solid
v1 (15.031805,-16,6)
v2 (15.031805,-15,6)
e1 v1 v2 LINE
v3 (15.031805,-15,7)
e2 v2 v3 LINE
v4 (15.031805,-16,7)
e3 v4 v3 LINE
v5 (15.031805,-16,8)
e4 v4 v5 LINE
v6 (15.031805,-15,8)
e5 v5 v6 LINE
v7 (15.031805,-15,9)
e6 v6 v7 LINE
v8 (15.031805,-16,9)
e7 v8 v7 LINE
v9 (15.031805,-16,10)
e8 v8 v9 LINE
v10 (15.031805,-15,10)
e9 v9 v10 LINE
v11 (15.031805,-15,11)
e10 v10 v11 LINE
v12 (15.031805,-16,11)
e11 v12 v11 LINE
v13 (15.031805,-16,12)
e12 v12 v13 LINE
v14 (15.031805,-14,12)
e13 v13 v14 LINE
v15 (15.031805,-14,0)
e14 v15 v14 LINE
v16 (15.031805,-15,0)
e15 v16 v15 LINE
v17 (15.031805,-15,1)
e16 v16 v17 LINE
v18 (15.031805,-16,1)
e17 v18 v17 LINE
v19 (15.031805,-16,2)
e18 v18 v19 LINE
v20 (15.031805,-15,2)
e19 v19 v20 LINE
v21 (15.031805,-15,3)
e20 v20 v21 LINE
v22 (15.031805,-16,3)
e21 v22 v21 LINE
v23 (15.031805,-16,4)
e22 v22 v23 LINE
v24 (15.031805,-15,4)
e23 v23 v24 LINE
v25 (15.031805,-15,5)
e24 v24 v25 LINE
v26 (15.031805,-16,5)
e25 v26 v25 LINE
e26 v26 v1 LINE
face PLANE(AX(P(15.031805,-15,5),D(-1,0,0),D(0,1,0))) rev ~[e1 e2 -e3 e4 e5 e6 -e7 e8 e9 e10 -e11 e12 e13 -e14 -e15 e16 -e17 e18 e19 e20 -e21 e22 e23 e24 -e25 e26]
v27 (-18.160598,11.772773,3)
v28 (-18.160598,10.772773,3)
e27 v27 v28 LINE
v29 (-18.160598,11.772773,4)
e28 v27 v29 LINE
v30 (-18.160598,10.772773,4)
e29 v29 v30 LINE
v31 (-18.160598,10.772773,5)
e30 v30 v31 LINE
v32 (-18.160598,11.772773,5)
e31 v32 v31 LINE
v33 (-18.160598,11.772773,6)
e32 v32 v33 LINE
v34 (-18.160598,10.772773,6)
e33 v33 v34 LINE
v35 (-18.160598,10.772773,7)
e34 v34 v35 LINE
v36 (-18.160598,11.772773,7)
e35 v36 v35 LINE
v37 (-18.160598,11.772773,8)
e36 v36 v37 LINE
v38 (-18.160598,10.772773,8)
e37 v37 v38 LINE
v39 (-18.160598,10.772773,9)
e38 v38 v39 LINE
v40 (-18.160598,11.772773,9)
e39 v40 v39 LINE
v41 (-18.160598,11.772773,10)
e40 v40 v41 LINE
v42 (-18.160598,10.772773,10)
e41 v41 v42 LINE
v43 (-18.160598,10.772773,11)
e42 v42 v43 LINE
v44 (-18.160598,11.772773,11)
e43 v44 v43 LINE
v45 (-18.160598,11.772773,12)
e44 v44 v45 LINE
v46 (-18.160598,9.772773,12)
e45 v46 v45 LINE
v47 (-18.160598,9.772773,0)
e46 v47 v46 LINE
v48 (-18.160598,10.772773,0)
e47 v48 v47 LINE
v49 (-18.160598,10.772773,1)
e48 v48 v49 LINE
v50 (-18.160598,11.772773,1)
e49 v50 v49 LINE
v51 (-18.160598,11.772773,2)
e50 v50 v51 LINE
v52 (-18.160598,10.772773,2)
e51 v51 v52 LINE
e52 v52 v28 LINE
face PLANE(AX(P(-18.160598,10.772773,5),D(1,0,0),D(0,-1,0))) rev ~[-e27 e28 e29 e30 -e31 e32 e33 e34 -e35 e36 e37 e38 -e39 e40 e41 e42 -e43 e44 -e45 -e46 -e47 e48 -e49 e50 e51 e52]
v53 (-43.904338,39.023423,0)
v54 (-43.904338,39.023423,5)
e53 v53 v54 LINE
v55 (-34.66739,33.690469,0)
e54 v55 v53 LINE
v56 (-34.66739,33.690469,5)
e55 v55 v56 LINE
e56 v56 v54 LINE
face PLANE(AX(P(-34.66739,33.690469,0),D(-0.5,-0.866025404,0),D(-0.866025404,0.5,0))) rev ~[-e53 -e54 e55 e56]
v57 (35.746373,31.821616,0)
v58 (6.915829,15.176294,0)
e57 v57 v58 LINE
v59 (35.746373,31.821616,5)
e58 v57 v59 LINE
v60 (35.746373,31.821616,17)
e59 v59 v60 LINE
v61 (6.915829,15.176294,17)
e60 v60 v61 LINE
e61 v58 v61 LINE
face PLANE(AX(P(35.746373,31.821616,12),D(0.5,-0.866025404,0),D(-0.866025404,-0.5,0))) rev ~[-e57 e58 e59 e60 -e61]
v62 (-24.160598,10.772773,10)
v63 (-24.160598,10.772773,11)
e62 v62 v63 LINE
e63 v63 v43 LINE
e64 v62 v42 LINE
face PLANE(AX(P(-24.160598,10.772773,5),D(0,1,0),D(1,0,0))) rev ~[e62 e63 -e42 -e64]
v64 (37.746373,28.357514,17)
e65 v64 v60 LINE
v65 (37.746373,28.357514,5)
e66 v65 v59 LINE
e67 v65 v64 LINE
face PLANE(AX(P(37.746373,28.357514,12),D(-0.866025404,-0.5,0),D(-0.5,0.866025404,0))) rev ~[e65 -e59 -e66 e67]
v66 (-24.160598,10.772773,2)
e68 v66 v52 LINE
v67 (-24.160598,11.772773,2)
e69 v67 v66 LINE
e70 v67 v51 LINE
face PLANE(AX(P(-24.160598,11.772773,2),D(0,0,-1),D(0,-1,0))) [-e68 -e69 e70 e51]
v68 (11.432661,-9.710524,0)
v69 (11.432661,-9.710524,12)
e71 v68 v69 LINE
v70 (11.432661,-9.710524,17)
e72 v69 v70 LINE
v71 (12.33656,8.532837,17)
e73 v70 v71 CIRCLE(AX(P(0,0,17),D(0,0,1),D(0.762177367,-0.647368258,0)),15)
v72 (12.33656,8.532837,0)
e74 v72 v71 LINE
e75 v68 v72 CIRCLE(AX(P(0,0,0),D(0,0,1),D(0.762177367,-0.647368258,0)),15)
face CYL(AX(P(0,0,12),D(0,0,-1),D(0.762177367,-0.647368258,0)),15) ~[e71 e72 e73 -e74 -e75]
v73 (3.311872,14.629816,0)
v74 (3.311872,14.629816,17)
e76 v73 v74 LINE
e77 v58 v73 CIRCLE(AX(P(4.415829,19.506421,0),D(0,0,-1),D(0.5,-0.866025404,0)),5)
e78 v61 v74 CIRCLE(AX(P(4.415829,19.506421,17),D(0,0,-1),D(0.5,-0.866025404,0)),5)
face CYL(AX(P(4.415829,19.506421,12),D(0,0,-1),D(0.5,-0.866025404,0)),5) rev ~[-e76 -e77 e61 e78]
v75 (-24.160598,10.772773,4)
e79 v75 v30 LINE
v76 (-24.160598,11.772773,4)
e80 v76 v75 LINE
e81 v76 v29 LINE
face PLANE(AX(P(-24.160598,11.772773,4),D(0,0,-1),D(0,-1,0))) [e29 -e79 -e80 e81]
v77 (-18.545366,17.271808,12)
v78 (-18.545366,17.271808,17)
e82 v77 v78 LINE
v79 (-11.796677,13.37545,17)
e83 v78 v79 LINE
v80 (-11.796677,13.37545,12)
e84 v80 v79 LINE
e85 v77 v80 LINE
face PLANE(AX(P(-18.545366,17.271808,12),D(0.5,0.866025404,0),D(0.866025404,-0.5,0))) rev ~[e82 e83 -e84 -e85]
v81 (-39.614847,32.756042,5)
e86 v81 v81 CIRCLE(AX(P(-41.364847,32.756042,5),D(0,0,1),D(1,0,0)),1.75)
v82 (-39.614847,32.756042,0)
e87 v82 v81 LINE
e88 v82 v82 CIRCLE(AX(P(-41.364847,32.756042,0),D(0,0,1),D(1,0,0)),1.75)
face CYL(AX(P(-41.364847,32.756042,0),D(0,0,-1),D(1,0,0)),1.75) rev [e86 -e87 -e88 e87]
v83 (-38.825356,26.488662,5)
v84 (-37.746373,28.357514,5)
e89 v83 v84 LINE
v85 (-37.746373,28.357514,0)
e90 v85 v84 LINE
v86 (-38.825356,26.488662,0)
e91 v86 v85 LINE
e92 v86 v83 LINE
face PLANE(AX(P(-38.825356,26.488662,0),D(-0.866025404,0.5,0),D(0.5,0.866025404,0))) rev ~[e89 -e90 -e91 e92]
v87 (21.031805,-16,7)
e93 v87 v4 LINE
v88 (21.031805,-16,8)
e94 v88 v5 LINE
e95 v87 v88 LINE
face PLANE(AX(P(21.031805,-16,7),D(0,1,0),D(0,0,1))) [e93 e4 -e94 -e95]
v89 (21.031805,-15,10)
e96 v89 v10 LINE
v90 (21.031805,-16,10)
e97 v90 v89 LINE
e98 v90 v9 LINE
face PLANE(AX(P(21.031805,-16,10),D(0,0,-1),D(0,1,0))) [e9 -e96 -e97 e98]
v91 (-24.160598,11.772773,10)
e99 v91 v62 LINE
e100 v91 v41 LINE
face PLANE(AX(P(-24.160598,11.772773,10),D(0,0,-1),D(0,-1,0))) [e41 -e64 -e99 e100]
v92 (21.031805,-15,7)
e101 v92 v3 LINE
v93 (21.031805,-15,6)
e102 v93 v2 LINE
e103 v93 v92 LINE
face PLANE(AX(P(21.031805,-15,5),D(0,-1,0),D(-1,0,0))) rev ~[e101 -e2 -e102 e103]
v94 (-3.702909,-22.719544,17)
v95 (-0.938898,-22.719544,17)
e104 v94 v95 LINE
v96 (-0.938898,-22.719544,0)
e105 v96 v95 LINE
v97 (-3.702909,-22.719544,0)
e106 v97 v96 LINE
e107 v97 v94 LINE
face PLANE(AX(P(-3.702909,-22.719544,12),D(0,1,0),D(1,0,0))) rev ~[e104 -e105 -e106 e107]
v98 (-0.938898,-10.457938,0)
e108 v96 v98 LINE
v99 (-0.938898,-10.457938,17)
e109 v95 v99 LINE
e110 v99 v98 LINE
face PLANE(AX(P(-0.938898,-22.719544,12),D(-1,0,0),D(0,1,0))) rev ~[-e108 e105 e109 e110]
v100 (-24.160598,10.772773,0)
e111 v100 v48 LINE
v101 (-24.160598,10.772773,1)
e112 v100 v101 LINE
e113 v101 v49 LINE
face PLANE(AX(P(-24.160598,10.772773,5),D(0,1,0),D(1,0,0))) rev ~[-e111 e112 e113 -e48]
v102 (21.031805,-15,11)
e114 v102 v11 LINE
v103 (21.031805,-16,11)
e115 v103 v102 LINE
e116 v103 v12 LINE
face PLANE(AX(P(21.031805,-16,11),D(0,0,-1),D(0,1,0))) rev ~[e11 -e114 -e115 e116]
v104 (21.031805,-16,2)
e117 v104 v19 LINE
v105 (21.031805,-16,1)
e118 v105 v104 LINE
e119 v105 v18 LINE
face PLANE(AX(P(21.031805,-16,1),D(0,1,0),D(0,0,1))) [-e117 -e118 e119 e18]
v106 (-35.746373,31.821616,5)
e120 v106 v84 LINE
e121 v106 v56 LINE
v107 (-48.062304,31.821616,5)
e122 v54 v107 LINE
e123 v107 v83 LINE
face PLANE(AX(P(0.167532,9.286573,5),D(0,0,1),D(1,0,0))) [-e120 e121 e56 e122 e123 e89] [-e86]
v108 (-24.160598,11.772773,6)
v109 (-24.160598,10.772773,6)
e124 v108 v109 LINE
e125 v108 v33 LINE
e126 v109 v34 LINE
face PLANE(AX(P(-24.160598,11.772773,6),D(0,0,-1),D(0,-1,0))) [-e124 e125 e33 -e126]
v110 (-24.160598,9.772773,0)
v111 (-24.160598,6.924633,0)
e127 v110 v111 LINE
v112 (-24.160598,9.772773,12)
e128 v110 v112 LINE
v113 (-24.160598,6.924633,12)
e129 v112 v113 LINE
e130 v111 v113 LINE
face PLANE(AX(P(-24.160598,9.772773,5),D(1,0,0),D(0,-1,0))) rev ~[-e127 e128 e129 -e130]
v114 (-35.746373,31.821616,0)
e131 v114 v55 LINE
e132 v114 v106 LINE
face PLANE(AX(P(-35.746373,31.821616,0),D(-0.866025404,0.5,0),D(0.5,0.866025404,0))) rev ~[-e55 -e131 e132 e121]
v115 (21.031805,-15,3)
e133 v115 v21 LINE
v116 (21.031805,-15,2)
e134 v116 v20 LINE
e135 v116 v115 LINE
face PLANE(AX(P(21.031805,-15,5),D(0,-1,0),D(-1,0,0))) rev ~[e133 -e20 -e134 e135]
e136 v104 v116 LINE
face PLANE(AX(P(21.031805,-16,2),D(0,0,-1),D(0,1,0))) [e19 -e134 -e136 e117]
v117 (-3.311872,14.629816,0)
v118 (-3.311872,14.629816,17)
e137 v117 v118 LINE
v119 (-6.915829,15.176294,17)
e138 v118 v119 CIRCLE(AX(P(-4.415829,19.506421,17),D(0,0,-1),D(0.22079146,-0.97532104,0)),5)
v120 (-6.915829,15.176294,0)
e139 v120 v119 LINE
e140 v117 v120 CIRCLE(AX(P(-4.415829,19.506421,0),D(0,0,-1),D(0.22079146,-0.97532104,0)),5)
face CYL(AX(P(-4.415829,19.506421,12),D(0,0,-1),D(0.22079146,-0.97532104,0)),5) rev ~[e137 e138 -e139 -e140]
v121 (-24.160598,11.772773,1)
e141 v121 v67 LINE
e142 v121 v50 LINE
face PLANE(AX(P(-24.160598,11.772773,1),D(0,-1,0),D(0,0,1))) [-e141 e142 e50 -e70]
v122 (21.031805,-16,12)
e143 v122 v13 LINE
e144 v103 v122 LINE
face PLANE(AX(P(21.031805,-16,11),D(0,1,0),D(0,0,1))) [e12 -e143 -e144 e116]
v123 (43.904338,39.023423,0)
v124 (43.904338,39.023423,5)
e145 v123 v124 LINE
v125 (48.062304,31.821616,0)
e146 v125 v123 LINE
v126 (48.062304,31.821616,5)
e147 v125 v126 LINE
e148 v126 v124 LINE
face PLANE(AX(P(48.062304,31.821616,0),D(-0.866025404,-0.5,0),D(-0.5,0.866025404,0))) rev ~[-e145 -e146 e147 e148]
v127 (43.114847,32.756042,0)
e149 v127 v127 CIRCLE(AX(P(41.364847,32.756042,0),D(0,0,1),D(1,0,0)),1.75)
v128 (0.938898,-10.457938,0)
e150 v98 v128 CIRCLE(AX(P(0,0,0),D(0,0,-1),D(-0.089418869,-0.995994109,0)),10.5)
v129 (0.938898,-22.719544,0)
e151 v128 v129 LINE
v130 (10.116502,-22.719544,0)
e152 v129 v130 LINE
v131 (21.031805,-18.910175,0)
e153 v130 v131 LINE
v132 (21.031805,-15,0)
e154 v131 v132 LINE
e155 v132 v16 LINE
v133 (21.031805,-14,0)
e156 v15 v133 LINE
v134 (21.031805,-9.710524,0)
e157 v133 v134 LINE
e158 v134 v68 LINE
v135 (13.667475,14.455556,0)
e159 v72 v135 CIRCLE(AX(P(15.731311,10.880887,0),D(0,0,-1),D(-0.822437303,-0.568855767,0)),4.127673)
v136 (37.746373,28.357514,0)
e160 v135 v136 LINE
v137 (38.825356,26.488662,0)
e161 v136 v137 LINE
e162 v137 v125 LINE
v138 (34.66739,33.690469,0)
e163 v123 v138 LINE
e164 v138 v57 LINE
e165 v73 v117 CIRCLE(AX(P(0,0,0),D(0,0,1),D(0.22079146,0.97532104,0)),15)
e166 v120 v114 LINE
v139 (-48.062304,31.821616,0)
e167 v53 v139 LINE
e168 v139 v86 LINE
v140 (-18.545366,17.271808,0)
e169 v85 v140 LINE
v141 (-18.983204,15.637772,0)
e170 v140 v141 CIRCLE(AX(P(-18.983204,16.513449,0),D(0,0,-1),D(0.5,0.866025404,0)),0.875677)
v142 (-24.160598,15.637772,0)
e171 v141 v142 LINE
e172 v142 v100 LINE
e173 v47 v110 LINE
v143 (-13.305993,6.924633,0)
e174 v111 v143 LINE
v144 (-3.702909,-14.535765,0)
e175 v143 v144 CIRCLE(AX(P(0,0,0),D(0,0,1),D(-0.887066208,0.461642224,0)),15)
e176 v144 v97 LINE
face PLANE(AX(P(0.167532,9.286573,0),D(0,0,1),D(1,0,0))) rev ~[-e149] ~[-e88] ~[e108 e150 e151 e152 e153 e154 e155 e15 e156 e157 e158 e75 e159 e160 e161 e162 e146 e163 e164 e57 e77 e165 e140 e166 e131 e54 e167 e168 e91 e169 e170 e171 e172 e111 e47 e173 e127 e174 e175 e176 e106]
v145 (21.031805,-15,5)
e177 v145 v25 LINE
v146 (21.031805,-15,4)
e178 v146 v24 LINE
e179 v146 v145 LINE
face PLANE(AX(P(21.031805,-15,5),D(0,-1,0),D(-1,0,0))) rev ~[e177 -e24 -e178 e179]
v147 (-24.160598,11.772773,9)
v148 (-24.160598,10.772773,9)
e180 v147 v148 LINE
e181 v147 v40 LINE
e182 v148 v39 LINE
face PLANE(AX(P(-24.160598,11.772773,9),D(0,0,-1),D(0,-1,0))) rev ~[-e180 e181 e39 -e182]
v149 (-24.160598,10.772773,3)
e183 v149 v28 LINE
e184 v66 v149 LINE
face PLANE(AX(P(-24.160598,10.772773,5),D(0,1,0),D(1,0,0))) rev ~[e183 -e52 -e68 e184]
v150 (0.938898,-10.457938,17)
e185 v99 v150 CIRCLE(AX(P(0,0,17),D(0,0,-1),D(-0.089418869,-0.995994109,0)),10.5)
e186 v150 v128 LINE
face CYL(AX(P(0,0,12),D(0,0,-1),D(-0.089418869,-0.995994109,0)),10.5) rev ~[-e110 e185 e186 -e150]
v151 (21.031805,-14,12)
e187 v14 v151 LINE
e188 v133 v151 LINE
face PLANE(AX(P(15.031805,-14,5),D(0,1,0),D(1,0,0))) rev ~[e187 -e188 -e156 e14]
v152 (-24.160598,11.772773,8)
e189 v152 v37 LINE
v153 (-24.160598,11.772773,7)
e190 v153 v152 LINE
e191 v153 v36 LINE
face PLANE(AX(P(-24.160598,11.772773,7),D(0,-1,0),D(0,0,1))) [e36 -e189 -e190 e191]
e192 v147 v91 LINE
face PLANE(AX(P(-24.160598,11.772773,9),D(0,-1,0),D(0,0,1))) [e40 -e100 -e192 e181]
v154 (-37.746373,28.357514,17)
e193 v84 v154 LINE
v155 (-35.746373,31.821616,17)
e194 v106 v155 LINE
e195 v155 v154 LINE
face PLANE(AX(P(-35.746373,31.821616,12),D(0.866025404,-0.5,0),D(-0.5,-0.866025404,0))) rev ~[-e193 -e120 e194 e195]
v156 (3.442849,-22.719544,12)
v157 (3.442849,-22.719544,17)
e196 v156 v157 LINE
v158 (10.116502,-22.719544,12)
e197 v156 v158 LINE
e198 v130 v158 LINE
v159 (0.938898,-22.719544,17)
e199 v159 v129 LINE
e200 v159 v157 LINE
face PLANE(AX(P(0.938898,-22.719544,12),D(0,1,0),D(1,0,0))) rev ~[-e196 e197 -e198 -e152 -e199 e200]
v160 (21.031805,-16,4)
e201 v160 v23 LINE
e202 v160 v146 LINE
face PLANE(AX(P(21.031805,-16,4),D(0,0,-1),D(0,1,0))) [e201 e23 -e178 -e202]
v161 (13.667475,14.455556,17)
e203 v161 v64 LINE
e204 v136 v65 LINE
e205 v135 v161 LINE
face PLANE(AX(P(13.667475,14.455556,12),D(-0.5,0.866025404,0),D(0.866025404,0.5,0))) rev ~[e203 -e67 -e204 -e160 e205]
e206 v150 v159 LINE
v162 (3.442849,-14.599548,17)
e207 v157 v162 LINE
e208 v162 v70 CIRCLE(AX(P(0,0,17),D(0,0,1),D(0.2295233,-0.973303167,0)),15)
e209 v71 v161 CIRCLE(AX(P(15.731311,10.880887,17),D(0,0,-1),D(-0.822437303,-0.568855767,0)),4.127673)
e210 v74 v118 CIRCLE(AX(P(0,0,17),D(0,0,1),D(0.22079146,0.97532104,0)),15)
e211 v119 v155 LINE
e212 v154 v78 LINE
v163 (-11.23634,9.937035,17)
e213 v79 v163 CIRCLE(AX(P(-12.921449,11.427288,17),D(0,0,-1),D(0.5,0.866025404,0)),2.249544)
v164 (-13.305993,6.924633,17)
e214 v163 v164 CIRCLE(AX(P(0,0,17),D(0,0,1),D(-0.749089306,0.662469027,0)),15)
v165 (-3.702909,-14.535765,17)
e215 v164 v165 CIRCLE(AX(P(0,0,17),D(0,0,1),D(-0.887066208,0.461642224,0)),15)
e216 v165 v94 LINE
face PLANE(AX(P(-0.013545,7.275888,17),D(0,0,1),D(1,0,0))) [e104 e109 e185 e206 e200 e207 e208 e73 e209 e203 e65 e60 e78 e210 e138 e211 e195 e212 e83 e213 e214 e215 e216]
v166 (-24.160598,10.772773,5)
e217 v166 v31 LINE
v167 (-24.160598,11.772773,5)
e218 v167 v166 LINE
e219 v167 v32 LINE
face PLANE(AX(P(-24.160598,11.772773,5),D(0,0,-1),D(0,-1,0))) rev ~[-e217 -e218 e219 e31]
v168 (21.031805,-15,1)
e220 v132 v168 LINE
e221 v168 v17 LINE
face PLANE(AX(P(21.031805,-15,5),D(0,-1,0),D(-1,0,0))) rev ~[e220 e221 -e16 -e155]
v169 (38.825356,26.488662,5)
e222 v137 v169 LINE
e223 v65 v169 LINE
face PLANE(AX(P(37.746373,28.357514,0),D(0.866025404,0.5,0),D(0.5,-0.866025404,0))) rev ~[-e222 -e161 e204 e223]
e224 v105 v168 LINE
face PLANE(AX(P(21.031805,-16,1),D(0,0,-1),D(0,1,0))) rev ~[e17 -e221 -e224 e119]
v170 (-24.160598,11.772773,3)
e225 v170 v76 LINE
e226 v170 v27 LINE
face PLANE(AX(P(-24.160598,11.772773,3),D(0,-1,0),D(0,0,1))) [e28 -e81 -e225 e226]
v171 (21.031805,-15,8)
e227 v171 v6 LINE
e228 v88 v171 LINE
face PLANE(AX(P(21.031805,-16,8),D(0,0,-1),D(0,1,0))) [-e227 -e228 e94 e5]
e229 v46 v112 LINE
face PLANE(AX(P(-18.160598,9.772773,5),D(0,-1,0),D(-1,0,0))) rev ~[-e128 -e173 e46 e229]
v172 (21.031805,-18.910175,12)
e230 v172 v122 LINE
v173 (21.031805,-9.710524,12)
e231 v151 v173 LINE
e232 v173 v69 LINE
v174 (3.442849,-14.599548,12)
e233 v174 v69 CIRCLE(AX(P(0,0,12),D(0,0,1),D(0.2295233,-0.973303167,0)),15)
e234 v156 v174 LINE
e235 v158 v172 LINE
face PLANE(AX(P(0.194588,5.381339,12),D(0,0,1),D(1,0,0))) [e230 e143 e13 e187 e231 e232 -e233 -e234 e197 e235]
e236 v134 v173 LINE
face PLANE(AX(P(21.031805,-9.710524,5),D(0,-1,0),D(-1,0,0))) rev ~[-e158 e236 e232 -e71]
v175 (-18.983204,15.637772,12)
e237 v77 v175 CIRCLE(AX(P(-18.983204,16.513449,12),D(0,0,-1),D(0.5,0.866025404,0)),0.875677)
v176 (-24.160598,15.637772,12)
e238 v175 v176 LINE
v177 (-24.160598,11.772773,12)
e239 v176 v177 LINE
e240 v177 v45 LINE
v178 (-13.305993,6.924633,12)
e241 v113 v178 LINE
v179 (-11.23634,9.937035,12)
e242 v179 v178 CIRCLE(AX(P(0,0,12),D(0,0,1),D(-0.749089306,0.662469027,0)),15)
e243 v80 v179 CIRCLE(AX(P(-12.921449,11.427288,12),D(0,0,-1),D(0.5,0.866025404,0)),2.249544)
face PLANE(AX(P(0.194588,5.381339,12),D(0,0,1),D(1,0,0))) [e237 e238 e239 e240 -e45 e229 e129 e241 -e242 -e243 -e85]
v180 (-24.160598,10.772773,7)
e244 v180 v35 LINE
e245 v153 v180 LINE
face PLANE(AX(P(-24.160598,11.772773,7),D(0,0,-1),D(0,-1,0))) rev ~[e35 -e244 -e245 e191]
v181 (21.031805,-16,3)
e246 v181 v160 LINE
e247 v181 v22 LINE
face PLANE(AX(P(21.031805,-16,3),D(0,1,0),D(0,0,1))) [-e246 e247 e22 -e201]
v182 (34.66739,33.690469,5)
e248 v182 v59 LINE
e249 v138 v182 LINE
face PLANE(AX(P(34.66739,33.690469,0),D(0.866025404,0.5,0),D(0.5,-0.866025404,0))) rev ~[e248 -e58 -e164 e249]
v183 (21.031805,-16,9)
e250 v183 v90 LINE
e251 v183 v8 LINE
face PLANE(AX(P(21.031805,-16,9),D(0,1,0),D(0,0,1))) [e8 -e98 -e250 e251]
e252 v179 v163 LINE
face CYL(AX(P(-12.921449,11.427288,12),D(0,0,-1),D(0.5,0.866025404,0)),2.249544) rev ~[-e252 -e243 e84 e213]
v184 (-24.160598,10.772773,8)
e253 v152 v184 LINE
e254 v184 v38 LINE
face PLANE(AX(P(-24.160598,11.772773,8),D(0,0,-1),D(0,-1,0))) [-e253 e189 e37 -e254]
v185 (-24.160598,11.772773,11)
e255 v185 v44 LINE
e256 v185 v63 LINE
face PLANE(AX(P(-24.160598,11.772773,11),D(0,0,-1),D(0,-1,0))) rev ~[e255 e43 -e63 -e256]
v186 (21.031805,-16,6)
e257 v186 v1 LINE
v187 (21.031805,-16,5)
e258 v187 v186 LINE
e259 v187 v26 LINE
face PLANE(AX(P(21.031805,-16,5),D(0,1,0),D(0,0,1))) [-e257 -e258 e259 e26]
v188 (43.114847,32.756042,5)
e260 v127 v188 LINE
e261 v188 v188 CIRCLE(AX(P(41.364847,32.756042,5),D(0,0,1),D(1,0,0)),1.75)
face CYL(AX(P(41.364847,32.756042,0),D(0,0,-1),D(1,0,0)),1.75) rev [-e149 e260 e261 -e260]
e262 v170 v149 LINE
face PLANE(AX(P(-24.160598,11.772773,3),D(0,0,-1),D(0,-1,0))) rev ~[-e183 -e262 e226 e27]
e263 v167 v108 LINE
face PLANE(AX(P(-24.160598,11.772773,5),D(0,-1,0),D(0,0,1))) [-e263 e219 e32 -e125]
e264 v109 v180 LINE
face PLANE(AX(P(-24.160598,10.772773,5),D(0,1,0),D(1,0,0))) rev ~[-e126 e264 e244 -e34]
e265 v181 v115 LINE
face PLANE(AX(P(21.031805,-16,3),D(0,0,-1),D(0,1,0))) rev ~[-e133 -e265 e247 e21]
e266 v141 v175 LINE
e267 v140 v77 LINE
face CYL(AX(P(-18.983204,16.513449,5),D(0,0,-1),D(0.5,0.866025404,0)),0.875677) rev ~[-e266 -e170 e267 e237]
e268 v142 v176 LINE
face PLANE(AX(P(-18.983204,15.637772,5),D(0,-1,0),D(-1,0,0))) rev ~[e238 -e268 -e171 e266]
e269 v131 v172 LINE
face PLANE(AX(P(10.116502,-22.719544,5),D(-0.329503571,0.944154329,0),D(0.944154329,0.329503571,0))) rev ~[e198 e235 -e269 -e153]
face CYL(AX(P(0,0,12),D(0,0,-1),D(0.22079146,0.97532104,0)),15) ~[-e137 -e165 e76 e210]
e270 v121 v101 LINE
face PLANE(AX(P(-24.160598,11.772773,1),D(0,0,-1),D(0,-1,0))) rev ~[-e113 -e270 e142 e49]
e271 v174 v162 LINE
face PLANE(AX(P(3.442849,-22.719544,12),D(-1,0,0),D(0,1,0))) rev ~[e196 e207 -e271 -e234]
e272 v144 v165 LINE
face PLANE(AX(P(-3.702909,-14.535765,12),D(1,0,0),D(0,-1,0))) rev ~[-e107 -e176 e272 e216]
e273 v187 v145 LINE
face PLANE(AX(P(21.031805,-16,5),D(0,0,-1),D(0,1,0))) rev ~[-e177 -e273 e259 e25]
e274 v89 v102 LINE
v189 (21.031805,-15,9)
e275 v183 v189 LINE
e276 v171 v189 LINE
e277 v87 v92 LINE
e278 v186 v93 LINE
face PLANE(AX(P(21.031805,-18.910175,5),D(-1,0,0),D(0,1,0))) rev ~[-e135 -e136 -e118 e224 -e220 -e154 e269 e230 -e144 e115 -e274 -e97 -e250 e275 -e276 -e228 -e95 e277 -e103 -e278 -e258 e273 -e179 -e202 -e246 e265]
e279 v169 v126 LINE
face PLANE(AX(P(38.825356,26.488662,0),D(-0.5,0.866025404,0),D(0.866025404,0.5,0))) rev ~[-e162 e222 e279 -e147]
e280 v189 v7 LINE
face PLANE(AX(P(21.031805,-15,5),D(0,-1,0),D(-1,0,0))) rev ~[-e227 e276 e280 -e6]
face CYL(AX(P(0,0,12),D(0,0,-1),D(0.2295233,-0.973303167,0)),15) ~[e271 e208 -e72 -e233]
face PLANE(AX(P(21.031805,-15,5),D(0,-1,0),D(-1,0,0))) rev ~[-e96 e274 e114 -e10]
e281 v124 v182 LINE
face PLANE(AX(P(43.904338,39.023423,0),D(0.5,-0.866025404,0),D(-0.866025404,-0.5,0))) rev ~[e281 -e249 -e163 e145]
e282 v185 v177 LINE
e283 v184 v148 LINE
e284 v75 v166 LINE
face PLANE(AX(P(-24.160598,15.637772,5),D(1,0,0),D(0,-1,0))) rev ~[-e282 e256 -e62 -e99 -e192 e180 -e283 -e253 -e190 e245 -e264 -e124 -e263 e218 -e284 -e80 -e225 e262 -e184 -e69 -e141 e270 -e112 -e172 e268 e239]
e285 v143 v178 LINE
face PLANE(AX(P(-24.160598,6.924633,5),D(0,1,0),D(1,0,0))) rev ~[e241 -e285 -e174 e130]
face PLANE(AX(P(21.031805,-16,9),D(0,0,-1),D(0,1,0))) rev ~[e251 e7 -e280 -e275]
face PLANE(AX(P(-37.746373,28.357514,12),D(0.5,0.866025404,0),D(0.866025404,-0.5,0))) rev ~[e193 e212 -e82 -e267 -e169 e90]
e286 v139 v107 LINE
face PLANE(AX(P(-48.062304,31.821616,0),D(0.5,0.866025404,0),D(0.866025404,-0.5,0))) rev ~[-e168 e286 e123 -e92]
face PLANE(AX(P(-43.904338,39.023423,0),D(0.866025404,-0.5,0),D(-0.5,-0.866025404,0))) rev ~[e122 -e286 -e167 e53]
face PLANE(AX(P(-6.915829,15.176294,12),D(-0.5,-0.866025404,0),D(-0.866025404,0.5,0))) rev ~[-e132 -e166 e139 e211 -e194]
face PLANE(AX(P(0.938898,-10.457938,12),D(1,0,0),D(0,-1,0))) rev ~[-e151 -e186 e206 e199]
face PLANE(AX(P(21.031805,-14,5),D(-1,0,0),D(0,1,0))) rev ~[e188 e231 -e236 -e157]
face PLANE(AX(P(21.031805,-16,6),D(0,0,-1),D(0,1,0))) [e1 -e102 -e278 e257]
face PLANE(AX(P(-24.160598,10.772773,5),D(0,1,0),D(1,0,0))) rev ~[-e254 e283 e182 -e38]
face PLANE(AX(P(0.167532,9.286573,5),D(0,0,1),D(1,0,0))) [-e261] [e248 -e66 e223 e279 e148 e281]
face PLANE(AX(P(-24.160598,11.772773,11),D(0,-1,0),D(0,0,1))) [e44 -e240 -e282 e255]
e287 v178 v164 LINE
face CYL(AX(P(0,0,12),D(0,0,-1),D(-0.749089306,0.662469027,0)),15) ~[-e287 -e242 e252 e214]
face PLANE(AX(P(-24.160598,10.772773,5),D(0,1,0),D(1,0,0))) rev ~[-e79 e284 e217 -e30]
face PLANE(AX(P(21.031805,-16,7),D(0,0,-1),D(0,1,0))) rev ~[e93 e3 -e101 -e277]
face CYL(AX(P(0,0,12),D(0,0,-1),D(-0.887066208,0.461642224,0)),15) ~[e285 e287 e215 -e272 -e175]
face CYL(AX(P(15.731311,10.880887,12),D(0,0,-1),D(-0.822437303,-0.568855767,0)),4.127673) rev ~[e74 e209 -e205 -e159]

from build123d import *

# Parameters (mm, degrees)
F0_R     = 1.75
F1_DEPTH = 5
F3_DEPTH = 7
F5_DEPTH = 5
F6_W     = 1
F6_H     = 1
F7_DEPTH = 6
F8_W     = 1
F8_H     = 1
F9_DEPTH = 6


with BuildPart() as f1:
    # F0 (on Top) → F1 (new body)
    with BuildSketch(Plane.XY):
        with BuildLine():
            ThreePointArc((-0.9388981295, -10.4579381478), (0, 10.5), (0.9388981295, -10.4579381478))
            Line((0.9388981295, -10.4579381478), (0.9388981295, -14.9705868389))
            Line((0.9388981295, -14.9705868389), (0.9388981295, -22.7195436882))
            Line((0.9388981295, -22.7195436882), (4.4024475525, -22.7195436882))
            Line((4.4024475525, -22.7195436882), (10.116501772, -22.7195436882))
            Line((10.116501772, -22.7195436882), (21.0318053748, -18.9101754503))
            Line((21.0318053748, -18.9101754503), (21.0318053748, -15))
            Line((21.0318053748, -15), (15.0318053748, -15))
            Line((15.0318053748, -15), (15.0318053748, -14))
            Line((15.0318053748, -14), (21.0318053748, -14))
            Line((21.0318053748, -14), (21.0318053748, -9.7105238683))
            Line((21.0318053748, -9.7105238683), (11.4326605041, -9.7105238683))
            ThreePointArc((11.4326605041, -9.7105238683), (14.9816222336, -0.7422905424), (12.3365595381, 8.5328365016))
            ThreePointArc((12.3365595381, 8.5328365016), (11.704066925, 11.7858634787), (13.6674751693, 14.4555562485))
            Line((13.6674751693, 14.4555562485), (37.7463729757, 28.3575143788))
            Line((37.7463729757, 28.3575143788), (38.825355636, 26.4886615908))
            Line((38.825355636, 26.4886615908), (48.0623036168, 31.821615994))
            Line((48.0623036168, 31.821615994), (43.9043382963, 39.0234231853))
            Line((43.9043382963, 39.0234231853), (34.6673903154, 33.6904687821))
            Line((34.6673903154, 33.6904687821), (35.7463729757, 31.821615994))
            Line((35.7463729757, 31.821615994), (6.9158291977, 15.1762937829))
            ThreePointArc((6.9158291977, 15.1762937829), (5.1654246928, 14.5629294653), (3.3118718983, 14.6298156013))
            ThreePointArc((3.3118718983, 14.6298156013), (0, 15), (-3.3118718983, 14.6298156013))
            ThreePointArc((-3.3118718983, 14.6298156013), (-5.1654246928, 14.5629294653), (-6.9158291977, 15.1762937829))
            Line((-6.9158291977, 15.1762937829), (-35.7463729757, 31.821615994))
            Line((-35.7463729757, 31.821615994), (-34.6673903154, 33.6904687821))
            Line((-34.6673903154, 33.6904687821), (-43.9043382963, 39.0234231853))
            Line((-43.9043382963, 39.0234231853), (-48.0623036168, 31.821615994))
            Line((-48.0623036168, 31.821615994), (-38.825355636, 26.4886615908))
            Line((-38.825355636, 26.4886615908), (-37.7463729757, 28.3575143788))
            Line((-37.7463729757, 28.3575143788), (-18.5453659437, 17.2718078002))
            ThreePointArc((-18.5453659437, 17.2718078002), (-18.1373653852, 16.2868073185), (-18.9832044744, 15.6377721578))
            Line((-18.9832044744, 15.6377721578), (-24.1605976116, 15.6377721578))
            Line((-24.1605976116, 15.6377721578), (-24.1605976116, 10.7727729008))
            Line((-24.1605976116, 10.7727729008), (-18.1605976116, 10.7727729008))
            Line((-18.1605976116, 10.7727729008), (-18.1605976116, 9.7727729008))
            Line((-18.1605976116, 9.7727729008), (-24.1605976116, 9.7727729008))
            Line((-24.1605976116, 9.7727729008), (-24.1605976116, 6.9246333643))
            Line((-24.1605976116, 6.9246333643), (-13.3059931147, 6.9246333643))
            ThreePointArc((-13.3059931147, 6.9246333643), (-13.6917078006, -6.1267558709), (-3.7029089872, -14.5357650309))
            Line((-3.7029089872, -14.5357650309), (-3.7029089872, -22.7195436882))
            Line((-3.7029089872, -22.7195436882), (-0.9388981295, -22.7195436882))
            Line((-0.9388981295, -22.7195436882), (-0.9388981295, -14.9705868389))
            Line((-0.9388981295, -14.9705868389), (-0.9388981295, -10.4579381478))
        make_face()
        with Locations((-41.3648469661, 32.756042388)):
            Circle(F0_R, mode=Mode.SUBTRACT)
        with Locations((41.3648469661, 32.756042388)):
            Circle(F0_R, mode=Mode.SUBTRACT)
    extrude(amount=F1_DEPTH)

    # F2 (on face) → F3 (join)
    with BuildSketch(Plane.XY.offset(5)):
        with BuildLine():
            Line((37.7463729757, 28.3575143788), (35.7463729757, 31.821615994))
            Line((35.7463729757, 31.821615994), (6.9158291977, 15.1762937829))
            ThreePointArc((6.9158291977, 15.1762937829), (5.1654246928, 14.5629294653), (3.3118718983, 14.6298156013))
            ThreePointArc((3.3118718983, 14.6298156013), (0, 15), (-3.3118718983, 14.6298156013))
            ThreePointArc((-3.3118718983, 14.6298156013), (-5.1654246928, 14.5629294653), (-6.9158291977, 15.1762937829))
            Line((-6.9158291977, 15.1762937829), (-35.7463729757, 31.821615994))
            Line((-35.7463729757, 31.821615994), (-37.7463729757, 28.3575143788))
            Line((-37.7463729757, 28.3575143788), (-18.5453659437, 17.2718078002))
            ThreePointArc((-18.5453659437, 17.2718078002), (-18.1373653852, 16.2868073185), (-18.9832044744, 15.6377721578))
            Line((-18.9832044744, 15.6377721578), (-24.1605976116, 15.6377721578))
            Line((-24.1605976116, 15.6377721578), (-24.1605976116, 10.7727729008))
            Line((-24.1605976116, 10.7727729008), (-18.1605976116, 10.7727729008))
            Line((-18.1605976116, 10.7727729008), (-18.1605976116, 9.7727729008))
            Line((-18.1605976116, 9.7727729008), (-24.1605976116, 9.7727729008))
            Line((-24.1605976116, 9.7727729008), (-24.1605976116, 6.9246333643))
            Line((-24.1605976116, 6.9246333643), (-13.3059931147, 6.9246333643))
            ThreePointArc((-13.3059931147, 6.9246333643), (-13.6917078006, -6.1267558709), (-3.7029089872, -14.5357650309))
            Line((-3.7029089872, -14.5357650309), (-3.7029089872, -22.7195436882))
            Line((-3.7029089872, -22.7195436882), (-0.9388981295, -22.7195436882))
            Line((-0.9388981295, -22.7195436882), (-0.9388981295, -10.4579381478))
            ThreePointArc((-0.9388981295, -10.4579381478), (0, 10.5), (0.9388981295, -10.4579381478))
            Line((0.9388981295, -10.4579381478), (0.9388981295, -22.7195436882))
            Line((0.9388981295, -22.7195436882), (10.116501772, -22.7195436882))
            Line((10.116501772, -22.7195436882), (21.0318053748, -18.9101754503))
            Line((21.0318053748, -18.9101754503), (21.0318053748, -15))
            Line((21.0318053748, -15), (15.0318053748, -15))
            Line((15.0318053748, -15), (15.0318053748, -14))
            Line((15.0318053748, -14), (21.0318053748, -14))
            Line((21.0318053748, -14), (21.0318053748, -9.7105238683))
            Line((21.0318053748, -9.7105238683), (11.4326605041, -9.7105238683))
            ThreePointArc((11.4326605041, -9.7105238683), (14.9816222336, -0.7422905424), (12.3365595381, 8.5328365016))
            ThreePointArc((12.3365595381, 8.5328365016), (11.704066925, 11.7858634787), (13.6674751693, 14.4555562485))
            Line((13.6674751693, 14.4555562485), (37.7463729757, 28.3575143788))
        make_face()
    extrude(amount=F3_DEPTH)

    # F4 (on face) → F5 (join)
    with BuildSketch(Plane.XY.offset(12)):
        with BuildLine():
            Line((0.9388981295, -22.7195436882), (3.4428494982, -22.7195436882))
            Line((3.4428494982, -22.7195436882), (3.4428494982, -14.5995475044))
            ThreePointArc((3.4428494982, -14.5995475044), (7.8291658231, -12.7946927479), (11.4326605041, -9.7105238683))
            ThreePointArc((11.4326605041, -9.7105238683), (14.9816222336, -0.7422905424), (12.3365595381, 8.5328365016))
            ThreePointArc((12.3365595381, 8.5328365016), (11.704066925, 11.7858634787), (13.6674751693, 14.4555562485))
            Line((13.6674751693, 14.4555562485), (37.7463729757, 28.3575143788))
            Line((37.7463729757, 28.3575143788), (35.7463729757, 31.821615994))
            Line((35.7463729757, 31.821615994), (6.9158291977, 15.1762937829))
            ThreePointArc((6.9158291977, 15.1762937829), (5.1654246928, 14.5629294653), (3.3118718983, 14.6298156013))
            ThreePointArc((3.3118718983, 14.6298156013), (0, 15), (-3.3118718983, 14.6298156013))
            ThreePointArc((-3.3118718983, 14.6298156013), (-5.1654246928, 14.5629294653), (-6.9158291977, 15.1762937829))
            Line((-6.9158291977, 15.1762937829), (-35.7463729757, 31.821615994))
            Line((-35.7463729757, 31.821615994), (-37.7463729757, 28.3575143788))
            Line((-37.7463729757, 28.3575143788), (-18.5453659437, 17.2718078002))
            Line((-18.5453659437, 17.2718078002), (-11.7966768619, 13.3754503421))
            ThreePointArc((-11.7966768619, 13.3754503421), (-10.7011937418, 11.7891096419), (-11.2363395942, 9.9370353992))
            ThreePointArc((-11.2363395942, 9.9370353992), (-12.3632586806, 8.4941058856), (-13.3059931147, 6.9246333643))
            ThreePointArc((-13.3059931147, 6.9246333643), (-13.6917078006, -6.1267558709), (-3.7029089872, -14.5357650309))
            Line((-3.7029089872, -14.5357650309), (-3.7029089872, -22.7195436882))
            Line((-3.7029089872, -22.7195436882), (-0.9388981295, -22.7195436882))
            Line((-0.9388981295, -22.7195436882), (-0.9388981295, -10.4579381478))
            ThreePointArc((-0.9388981295, -10.4579381478), (0, 10.5), (0.9388981295, -10.4579381478))
            Line((0.9388981295, -10.4579381478), (0.9388981295, -22.7195436882))
        make_face()
    extrude(amount=F5_DEPTH)

    # F6 (on face) → F7 (cut)
    with BuildSketch(Plane.YZ.offset(21.0318053748)):
        with Locations((-15.5, 9.5)):
            Rectangle(F6_W, F6_H)
        with Locations((-15.5, 7.5)):
            Rectangle(F6_W, F6_H)
        with Locations((-15.5, 11.5)):
            Rectangle(F6_W, F6_H)
        with Locations((-15.5, 5.5)):
            Rectangle(F6_W, F6_H)
        with Locations((-15.5, 3.5)):
            Rectangle(F6_W, F6_H)
        with Locations((-15.5, 1.5)):
            Rectangle(F6_W, F6_H)
    extrude(amount=-F7_DEPTH, mode=Mode.SUBTRACT)

    # F8 (on face) → F9 (cut)
    with BuildSketch(Plane(origin=(-24.1605976116, 0, 0), x_dir=(0, -1, 0), z_dir=(-1, 0, 0))):
        with Locations((-11.2727729008, 11.5)):
            Rectangle(F8_W, F8_H)
        with Locations((-11.2727729008, 9.5)):
            Rectangle(F8_W, F8_H)
        with Locations((-11.2727729008, 7.5)):
            Rectangle(F8_W, F8_H)
        with Locations((-11.2727729008, 5.5)):
            Rectangle(F8_W, F8_H)
        with Locations((-11.2727729008, 3.5)):
            Rectangle(F8_W, F8_H)
        with Locations((-11.2727729008, 1.5)):
            Rectangle(F8_W, F8_H)
    extrude(amount=-F9_DEPTH, mode=Mode.SUBTRACT)


solid = f1.part
